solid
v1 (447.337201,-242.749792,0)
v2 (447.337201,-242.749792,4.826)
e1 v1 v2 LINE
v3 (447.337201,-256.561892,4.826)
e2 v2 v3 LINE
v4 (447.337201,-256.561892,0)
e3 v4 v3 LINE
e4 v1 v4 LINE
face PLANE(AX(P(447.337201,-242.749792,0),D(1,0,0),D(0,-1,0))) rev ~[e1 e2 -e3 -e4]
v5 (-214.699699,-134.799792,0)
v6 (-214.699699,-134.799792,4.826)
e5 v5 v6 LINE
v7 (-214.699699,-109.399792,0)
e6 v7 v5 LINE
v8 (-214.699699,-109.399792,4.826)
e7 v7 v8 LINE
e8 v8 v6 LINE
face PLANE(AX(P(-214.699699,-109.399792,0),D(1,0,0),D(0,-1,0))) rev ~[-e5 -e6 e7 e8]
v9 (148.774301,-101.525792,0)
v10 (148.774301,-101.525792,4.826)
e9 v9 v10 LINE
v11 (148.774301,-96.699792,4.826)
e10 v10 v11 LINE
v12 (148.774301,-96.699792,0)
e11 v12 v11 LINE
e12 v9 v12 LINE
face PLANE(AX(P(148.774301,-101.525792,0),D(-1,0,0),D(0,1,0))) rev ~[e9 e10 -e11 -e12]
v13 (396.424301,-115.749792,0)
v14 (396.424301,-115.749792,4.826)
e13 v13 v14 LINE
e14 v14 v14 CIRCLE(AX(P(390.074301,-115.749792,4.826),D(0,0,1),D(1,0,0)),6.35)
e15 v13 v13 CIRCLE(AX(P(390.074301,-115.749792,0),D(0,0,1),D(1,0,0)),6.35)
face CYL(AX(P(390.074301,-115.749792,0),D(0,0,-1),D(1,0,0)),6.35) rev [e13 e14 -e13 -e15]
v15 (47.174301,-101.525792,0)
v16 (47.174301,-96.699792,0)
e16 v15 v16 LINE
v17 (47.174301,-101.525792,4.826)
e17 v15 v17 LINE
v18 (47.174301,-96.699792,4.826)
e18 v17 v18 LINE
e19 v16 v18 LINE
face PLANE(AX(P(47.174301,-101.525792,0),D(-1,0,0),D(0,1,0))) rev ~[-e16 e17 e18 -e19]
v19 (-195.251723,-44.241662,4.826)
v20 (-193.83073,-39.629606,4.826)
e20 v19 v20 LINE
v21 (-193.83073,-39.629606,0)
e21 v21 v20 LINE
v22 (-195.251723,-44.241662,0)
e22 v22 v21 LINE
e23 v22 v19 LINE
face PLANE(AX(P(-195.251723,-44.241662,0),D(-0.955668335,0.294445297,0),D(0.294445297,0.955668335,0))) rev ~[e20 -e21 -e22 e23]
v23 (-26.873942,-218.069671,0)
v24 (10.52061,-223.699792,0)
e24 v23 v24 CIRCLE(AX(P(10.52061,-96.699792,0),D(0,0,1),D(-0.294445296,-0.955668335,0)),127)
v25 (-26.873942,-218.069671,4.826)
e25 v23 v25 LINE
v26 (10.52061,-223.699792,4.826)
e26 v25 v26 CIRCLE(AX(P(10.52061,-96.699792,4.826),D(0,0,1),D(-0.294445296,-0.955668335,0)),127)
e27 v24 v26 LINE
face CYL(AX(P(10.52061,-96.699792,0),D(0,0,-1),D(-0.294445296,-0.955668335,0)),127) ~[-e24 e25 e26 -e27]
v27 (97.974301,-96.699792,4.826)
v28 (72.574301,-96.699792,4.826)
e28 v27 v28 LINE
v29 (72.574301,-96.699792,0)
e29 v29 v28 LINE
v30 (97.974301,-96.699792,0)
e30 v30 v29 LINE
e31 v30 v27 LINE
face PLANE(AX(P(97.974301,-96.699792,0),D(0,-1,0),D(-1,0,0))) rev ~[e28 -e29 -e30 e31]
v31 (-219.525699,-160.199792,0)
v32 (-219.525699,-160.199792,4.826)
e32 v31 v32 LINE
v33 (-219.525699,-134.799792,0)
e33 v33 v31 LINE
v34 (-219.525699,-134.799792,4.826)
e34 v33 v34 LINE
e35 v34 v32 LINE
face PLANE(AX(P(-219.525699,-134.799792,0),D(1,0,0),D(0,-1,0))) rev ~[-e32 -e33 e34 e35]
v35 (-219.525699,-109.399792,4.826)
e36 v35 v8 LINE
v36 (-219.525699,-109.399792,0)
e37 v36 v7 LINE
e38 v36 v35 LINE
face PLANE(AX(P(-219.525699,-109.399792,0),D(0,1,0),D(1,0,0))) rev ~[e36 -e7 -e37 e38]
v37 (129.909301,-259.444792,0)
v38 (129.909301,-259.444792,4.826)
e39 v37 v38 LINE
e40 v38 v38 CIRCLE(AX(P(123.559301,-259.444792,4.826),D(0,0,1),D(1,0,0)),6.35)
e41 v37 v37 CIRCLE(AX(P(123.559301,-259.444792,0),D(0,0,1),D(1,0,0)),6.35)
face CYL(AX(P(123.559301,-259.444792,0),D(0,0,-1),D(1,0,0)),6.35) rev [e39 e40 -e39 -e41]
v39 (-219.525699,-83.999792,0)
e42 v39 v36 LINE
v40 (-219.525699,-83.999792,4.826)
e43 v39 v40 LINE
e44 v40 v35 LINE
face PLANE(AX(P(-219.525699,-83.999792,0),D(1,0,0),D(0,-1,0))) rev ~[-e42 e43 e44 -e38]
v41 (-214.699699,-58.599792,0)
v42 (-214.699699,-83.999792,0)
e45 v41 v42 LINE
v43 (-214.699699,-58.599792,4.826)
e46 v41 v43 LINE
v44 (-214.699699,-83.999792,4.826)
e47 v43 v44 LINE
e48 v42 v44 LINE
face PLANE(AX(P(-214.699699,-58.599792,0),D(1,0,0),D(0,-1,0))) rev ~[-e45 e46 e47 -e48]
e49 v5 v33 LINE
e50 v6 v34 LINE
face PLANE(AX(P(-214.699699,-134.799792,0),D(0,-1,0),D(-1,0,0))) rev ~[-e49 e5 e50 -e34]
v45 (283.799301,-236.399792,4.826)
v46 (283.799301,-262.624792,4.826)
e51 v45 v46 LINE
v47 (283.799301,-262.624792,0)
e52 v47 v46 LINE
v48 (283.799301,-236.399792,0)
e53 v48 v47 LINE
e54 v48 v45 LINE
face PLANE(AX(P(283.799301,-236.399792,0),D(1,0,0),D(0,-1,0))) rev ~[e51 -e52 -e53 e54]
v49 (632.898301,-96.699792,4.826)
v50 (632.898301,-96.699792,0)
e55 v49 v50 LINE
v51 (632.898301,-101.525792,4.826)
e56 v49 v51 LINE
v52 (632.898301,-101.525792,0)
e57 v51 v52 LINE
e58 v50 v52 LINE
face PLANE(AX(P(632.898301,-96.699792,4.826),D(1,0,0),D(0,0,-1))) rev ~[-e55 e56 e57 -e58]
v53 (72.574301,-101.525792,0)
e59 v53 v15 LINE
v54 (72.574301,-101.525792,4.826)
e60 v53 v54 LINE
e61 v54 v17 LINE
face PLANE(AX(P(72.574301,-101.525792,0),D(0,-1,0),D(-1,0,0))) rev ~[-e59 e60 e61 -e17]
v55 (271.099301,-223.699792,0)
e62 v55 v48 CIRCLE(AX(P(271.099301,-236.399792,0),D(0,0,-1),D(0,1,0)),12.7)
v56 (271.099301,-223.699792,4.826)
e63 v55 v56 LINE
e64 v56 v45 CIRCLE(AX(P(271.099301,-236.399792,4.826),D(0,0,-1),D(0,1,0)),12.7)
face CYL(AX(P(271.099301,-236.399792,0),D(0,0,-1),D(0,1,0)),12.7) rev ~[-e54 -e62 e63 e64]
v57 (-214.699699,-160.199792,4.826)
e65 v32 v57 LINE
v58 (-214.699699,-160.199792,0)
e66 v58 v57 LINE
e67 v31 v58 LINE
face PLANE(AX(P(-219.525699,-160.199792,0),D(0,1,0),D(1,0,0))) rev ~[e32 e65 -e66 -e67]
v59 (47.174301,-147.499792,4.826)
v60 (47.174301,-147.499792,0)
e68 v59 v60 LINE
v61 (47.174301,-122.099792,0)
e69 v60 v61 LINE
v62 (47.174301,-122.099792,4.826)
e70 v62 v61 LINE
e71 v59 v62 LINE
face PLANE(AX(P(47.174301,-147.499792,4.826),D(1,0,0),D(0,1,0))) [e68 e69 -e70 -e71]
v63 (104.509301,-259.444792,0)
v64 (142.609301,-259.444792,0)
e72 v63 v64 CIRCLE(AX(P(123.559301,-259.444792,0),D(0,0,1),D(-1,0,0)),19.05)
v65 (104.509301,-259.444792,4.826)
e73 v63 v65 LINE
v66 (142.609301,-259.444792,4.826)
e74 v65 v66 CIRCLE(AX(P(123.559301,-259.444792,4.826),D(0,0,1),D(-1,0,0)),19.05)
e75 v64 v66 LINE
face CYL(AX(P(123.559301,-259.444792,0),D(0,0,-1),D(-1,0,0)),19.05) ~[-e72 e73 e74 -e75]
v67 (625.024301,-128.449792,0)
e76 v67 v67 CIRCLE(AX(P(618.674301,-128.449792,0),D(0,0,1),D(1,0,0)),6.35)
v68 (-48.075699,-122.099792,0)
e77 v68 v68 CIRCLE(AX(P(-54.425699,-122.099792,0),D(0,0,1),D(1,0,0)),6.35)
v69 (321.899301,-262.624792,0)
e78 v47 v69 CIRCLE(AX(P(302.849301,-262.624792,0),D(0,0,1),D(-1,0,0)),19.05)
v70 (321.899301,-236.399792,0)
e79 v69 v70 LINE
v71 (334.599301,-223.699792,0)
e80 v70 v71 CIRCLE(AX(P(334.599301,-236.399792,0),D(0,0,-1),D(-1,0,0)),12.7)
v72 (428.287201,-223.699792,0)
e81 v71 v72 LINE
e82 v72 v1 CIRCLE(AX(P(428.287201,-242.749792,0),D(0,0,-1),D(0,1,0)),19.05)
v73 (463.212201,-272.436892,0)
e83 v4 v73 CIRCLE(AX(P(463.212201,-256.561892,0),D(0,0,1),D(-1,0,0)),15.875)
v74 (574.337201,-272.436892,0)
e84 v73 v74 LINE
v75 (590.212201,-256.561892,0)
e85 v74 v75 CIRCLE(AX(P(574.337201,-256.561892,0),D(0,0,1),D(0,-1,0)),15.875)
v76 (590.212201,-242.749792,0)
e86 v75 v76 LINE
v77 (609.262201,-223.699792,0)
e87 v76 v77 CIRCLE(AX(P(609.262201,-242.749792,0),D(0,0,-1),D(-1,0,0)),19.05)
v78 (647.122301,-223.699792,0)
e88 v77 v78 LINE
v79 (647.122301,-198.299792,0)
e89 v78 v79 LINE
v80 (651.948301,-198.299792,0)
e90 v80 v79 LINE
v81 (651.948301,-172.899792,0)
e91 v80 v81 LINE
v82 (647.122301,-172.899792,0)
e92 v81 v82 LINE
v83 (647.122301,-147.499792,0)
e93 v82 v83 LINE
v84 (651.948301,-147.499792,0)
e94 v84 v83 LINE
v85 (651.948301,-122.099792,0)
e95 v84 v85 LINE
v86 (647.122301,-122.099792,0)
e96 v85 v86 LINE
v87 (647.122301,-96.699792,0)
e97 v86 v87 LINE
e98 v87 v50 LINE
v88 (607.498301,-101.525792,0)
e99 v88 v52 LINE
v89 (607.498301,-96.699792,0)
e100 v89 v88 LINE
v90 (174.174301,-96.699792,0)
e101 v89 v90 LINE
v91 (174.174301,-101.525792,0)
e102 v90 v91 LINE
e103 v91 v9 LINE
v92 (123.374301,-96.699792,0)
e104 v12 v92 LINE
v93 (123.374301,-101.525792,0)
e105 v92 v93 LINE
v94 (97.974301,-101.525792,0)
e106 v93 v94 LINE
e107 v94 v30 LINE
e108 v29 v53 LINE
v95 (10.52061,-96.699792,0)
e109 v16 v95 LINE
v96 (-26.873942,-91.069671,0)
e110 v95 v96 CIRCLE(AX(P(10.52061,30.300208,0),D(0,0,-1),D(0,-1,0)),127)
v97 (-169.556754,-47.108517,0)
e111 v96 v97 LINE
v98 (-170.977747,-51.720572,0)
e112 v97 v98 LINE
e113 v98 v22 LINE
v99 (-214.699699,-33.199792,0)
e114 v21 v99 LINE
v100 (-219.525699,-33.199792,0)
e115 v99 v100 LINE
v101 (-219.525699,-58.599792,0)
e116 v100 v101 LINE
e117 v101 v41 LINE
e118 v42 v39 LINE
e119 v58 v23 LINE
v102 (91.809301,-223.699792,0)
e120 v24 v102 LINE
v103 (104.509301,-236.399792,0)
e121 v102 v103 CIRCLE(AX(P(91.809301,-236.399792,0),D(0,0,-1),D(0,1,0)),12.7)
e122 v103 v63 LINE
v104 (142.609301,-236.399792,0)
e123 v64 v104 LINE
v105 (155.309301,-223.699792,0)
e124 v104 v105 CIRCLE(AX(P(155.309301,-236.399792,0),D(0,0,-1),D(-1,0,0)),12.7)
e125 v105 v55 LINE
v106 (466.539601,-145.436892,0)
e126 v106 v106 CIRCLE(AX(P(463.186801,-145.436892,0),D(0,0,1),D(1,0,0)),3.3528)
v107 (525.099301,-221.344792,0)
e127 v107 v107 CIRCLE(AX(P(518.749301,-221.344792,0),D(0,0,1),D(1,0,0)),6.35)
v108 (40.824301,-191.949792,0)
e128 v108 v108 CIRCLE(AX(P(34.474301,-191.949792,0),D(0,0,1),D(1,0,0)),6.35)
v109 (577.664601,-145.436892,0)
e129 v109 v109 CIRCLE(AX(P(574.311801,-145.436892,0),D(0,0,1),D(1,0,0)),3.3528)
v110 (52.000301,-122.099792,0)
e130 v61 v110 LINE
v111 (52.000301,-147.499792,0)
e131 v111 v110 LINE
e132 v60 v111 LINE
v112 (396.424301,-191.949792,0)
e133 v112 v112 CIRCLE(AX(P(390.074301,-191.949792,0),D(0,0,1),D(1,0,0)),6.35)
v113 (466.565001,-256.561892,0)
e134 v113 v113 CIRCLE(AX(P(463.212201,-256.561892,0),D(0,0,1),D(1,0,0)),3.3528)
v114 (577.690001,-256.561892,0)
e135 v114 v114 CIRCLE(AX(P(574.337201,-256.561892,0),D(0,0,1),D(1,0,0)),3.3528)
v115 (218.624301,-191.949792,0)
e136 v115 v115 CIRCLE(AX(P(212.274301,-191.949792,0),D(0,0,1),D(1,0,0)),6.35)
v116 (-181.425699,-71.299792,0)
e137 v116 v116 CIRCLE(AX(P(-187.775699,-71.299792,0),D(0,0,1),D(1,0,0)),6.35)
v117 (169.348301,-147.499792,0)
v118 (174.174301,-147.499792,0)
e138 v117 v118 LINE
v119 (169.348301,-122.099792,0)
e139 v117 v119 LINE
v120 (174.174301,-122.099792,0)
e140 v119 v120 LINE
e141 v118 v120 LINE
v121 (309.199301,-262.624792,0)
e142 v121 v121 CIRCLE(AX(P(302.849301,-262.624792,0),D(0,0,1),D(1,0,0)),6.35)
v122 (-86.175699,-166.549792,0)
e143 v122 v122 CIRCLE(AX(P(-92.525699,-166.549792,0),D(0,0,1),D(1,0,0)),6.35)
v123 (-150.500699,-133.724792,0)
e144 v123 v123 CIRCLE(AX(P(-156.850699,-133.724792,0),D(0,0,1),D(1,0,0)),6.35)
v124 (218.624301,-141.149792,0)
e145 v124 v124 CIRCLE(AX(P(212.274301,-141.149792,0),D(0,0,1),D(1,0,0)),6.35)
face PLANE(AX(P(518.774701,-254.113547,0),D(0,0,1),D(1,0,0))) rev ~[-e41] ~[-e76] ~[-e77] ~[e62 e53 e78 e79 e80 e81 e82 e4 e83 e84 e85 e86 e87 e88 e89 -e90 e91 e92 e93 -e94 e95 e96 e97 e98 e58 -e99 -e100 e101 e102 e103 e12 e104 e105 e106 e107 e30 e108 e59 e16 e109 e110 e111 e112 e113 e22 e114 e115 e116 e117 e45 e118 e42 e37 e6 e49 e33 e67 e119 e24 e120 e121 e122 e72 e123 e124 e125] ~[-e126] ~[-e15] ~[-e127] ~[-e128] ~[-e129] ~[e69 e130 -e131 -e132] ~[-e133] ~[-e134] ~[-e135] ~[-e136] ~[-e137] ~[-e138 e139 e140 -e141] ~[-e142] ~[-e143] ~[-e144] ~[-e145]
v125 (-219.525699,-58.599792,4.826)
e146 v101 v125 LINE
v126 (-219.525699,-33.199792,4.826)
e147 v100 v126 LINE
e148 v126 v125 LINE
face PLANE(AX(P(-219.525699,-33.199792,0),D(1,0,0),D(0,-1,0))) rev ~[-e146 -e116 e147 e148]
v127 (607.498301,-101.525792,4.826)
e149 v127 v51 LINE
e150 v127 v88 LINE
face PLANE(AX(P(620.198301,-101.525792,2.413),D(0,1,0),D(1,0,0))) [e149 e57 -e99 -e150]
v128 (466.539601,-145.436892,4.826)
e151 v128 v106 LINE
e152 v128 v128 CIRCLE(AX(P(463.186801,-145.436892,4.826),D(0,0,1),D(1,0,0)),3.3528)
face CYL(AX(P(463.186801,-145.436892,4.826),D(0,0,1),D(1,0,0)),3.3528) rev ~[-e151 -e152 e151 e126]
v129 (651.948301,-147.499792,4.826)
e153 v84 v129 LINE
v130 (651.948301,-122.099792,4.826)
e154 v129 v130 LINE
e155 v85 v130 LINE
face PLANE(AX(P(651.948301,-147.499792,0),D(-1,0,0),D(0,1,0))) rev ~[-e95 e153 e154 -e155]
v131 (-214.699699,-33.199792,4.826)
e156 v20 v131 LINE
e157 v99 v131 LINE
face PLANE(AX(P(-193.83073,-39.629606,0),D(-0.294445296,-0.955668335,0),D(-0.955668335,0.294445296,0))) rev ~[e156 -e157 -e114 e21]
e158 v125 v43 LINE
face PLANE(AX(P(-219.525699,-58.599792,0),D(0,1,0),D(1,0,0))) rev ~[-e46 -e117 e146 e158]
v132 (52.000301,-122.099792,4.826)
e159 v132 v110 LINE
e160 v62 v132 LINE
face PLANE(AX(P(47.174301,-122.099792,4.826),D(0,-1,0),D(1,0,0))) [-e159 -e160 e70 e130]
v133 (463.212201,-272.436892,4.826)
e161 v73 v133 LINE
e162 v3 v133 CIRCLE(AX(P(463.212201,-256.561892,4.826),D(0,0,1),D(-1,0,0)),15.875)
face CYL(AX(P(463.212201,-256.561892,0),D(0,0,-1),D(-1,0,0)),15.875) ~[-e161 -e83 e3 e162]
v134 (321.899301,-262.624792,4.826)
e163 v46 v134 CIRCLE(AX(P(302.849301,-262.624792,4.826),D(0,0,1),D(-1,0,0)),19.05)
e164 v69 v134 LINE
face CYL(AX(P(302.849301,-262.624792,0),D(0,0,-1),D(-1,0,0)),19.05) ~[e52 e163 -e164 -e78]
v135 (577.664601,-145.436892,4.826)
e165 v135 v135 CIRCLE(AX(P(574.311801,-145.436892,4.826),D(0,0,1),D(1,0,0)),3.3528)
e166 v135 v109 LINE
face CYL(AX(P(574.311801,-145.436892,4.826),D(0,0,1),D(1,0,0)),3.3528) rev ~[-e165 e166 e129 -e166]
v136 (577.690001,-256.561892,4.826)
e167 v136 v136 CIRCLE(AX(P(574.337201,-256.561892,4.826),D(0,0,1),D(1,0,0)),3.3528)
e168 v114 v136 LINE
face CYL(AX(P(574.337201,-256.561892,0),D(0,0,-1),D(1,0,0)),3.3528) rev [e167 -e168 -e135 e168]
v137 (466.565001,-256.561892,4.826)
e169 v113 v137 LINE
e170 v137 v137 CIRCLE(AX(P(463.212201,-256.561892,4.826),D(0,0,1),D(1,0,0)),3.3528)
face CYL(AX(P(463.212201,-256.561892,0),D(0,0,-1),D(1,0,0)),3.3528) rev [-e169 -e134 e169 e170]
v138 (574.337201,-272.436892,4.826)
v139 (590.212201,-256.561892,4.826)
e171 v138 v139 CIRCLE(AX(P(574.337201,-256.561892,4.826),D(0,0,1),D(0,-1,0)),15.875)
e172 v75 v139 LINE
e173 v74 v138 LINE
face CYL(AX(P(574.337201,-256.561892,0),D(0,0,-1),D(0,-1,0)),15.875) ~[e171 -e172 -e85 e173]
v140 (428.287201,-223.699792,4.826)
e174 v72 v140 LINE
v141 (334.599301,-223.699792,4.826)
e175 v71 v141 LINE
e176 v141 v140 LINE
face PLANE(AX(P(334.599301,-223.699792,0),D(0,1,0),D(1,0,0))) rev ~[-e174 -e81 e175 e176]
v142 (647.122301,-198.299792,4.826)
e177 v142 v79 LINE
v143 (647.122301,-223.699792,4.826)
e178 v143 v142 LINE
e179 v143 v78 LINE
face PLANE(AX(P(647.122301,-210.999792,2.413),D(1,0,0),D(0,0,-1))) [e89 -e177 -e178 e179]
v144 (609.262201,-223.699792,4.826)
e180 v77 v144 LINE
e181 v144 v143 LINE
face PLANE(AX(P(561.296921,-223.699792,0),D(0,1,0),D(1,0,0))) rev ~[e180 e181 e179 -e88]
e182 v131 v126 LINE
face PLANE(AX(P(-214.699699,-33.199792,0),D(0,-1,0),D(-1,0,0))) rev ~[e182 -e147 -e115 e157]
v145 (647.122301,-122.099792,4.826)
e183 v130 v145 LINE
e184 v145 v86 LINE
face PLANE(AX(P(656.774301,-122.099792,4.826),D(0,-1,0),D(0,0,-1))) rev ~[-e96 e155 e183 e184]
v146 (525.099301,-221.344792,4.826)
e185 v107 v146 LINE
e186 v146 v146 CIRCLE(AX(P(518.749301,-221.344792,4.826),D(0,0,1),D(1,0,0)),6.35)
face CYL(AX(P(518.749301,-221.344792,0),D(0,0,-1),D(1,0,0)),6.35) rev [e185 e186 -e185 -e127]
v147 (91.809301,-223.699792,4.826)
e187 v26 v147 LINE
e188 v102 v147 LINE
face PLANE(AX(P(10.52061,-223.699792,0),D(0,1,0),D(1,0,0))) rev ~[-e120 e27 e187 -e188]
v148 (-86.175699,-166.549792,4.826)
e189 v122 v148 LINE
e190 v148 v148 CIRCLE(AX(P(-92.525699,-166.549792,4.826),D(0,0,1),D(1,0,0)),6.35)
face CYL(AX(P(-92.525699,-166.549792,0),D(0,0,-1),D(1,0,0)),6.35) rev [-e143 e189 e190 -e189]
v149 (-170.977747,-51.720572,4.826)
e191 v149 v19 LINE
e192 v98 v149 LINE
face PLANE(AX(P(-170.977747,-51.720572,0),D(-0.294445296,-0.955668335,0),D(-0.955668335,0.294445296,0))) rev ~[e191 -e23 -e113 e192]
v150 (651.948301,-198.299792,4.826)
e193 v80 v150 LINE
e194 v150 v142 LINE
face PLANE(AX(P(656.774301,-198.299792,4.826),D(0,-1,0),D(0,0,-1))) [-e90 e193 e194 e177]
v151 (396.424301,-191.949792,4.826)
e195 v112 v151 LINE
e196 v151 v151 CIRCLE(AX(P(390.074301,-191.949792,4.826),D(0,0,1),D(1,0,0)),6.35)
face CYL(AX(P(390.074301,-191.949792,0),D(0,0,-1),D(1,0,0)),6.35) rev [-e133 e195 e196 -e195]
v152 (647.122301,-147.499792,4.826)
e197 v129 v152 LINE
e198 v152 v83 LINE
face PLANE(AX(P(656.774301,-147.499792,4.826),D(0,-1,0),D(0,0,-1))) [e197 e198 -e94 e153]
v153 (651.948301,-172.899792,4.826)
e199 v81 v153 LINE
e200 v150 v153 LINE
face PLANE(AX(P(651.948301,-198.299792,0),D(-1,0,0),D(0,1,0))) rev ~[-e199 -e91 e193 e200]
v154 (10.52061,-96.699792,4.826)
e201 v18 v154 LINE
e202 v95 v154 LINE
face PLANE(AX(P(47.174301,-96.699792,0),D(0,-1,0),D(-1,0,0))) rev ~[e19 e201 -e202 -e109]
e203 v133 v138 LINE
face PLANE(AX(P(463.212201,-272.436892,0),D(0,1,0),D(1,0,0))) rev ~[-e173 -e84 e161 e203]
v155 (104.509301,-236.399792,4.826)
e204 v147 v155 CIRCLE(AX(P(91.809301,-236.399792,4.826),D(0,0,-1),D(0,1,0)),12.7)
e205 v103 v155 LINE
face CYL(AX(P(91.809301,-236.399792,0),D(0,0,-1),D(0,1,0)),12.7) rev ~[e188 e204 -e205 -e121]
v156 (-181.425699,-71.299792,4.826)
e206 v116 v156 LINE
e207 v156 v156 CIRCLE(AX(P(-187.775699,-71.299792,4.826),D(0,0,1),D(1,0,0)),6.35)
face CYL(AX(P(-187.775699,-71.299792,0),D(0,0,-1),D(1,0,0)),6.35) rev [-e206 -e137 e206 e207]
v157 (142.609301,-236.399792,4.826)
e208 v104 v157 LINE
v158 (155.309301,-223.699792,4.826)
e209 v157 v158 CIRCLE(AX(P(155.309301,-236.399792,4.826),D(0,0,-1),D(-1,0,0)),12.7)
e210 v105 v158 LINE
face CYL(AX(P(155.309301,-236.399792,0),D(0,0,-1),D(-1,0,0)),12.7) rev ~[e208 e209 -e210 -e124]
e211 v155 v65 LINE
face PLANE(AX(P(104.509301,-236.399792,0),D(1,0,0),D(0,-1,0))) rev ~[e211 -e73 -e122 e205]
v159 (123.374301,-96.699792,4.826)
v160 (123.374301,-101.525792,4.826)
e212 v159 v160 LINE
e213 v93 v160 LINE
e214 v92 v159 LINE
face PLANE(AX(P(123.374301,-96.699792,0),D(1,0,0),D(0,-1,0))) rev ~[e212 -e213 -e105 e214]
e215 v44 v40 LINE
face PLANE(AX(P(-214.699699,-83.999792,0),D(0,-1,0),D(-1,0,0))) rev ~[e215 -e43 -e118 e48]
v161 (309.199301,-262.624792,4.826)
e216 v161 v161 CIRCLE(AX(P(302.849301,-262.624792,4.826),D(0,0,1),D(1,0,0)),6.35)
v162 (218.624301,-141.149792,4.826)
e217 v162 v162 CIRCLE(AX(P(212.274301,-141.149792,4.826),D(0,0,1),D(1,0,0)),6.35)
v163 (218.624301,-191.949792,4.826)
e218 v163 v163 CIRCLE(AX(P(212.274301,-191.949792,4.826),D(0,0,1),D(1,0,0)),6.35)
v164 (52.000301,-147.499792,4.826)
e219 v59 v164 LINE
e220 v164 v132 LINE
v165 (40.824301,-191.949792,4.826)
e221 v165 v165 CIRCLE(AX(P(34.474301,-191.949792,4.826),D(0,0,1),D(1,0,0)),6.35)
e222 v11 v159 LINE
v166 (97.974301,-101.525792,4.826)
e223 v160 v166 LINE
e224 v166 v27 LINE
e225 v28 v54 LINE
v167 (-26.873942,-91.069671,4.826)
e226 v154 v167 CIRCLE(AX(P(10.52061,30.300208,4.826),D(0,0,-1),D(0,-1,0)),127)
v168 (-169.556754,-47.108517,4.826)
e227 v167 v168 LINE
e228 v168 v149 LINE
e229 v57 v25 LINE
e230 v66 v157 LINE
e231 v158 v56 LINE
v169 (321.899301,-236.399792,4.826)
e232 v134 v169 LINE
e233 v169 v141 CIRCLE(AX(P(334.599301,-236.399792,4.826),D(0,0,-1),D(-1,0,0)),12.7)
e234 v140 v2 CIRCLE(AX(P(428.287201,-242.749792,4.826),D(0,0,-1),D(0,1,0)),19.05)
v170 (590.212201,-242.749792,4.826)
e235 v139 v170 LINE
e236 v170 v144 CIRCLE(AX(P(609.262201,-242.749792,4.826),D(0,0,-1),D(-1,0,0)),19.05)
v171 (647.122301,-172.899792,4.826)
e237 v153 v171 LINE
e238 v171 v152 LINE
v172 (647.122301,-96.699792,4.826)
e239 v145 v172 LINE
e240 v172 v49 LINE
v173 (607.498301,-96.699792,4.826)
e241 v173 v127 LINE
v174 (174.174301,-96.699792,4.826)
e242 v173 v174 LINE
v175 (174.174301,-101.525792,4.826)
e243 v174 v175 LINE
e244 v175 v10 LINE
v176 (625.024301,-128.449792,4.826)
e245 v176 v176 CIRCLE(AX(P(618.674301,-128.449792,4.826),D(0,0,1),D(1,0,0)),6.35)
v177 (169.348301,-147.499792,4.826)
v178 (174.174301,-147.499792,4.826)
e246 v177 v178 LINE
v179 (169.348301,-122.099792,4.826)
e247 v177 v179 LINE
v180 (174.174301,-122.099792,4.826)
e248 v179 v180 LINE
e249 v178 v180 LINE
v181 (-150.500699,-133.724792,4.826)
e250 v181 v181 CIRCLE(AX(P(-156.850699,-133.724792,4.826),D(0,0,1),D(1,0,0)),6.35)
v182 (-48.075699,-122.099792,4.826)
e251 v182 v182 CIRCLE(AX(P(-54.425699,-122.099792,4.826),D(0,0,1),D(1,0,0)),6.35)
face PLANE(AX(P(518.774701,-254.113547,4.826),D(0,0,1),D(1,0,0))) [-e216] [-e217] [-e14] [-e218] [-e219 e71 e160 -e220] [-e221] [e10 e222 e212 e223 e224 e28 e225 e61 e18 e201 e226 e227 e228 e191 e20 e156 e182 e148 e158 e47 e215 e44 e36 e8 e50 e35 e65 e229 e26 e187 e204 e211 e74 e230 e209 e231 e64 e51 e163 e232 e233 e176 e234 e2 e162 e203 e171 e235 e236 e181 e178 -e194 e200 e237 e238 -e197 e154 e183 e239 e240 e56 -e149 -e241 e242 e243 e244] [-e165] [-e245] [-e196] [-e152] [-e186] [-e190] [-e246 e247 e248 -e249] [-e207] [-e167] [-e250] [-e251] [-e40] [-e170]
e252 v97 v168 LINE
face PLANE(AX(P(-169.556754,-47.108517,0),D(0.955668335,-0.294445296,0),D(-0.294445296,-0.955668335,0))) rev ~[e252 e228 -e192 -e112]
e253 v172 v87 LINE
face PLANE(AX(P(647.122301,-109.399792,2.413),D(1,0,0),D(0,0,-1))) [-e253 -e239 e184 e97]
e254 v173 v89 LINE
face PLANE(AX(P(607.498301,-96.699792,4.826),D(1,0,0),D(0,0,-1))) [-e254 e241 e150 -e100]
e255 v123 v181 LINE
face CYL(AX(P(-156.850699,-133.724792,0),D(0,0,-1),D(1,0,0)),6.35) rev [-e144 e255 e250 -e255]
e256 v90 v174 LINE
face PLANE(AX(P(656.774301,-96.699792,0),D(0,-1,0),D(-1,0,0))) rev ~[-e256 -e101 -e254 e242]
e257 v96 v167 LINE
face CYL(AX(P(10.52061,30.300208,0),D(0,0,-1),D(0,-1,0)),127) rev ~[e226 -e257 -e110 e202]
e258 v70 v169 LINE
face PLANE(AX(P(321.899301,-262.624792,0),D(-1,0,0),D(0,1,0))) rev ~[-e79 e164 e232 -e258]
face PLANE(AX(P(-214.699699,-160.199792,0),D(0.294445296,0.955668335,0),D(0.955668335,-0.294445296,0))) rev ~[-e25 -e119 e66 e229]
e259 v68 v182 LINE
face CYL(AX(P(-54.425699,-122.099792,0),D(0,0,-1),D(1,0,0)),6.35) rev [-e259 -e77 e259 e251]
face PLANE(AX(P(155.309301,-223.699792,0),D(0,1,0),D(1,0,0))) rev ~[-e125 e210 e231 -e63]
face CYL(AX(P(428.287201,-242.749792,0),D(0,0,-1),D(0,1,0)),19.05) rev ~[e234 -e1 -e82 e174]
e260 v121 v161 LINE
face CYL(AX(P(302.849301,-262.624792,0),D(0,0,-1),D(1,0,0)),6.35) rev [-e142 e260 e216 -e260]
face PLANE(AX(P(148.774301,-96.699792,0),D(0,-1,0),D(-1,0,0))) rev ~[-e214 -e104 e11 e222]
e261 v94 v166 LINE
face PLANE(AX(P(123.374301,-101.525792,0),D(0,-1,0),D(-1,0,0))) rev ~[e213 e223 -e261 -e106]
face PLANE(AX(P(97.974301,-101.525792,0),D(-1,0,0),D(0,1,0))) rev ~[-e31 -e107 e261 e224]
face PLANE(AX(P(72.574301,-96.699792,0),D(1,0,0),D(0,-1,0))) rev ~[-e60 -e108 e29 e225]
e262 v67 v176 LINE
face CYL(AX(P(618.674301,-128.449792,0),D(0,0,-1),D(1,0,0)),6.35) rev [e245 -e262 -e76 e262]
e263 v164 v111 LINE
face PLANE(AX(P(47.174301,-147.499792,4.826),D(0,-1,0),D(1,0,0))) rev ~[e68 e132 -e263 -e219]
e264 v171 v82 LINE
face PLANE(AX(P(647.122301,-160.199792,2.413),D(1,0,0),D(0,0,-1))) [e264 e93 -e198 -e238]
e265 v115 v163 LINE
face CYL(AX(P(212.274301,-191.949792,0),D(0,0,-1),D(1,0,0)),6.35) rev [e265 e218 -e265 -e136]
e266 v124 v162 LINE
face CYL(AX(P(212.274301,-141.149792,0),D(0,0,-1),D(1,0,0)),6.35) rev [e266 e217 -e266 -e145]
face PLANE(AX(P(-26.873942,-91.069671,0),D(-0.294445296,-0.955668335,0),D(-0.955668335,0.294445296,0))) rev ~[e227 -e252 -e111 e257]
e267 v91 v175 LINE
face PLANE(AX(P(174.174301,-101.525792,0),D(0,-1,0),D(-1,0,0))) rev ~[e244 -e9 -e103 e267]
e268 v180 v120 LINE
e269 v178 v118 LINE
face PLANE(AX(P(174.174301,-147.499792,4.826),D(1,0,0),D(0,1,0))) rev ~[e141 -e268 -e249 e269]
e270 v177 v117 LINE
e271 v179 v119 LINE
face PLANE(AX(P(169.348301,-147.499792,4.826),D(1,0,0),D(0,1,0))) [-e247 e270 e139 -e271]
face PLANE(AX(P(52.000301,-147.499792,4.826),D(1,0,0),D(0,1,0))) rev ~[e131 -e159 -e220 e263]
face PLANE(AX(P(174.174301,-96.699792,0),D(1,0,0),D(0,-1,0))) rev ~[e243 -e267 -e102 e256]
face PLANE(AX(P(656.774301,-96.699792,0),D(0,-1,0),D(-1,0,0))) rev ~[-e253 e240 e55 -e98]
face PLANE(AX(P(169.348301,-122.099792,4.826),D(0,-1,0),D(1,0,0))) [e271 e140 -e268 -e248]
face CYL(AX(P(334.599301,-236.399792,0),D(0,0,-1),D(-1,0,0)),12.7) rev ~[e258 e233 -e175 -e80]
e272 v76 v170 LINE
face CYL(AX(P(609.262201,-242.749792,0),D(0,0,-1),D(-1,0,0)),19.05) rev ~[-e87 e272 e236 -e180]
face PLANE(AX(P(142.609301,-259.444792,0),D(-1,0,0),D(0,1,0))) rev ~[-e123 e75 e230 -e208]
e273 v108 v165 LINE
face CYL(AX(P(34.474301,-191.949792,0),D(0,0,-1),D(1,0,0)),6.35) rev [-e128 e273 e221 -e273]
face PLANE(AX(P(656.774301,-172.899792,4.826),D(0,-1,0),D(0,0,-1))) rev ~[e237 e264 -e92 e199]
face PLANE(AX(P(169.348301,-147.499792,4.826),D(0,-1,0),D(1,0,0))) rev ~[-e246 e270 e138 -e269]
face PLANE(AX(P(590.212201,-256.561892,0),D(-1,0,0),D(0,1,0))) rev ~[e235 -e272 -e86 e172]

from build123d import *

# Parameters (mm, degrees)
SKETCH2_R                           = 6.35
BASE_DEPTH                          = 4.826
SKETCH3_W                           = 4.826
SKETCH3_H                           = 25.4
CENTER_SUPPORT_VERTICAL_HOLES_DEPTH = 5.826
SKETCH4_W                           = 4.826
SKETCH4_H                           = 25.4
CUT_EXTRUDE2_DEPTH                  = 9.652
SKETCH5_R                           = 3.3528
BOSS_EXTRUDE1_DEPTH                 = 4.826
SKETCH6_R                           = 3.3528
CUT_EXTRUDE3_DEPTH                  = 5.826
SKETCH7_W                           = 25.4
SKETCH7_H                           = 4.826
CUT_EXTRUDE4_DEPTH                  = 4.826


with BuildPart() as part:
    # Sketch2 → base (new body)
    with BuildSketch(Plane.XY):
        with BuildLine():
            Line((-214.699698696, -160.199792202), (-26.873942154, -218.069670807))
            ThreePointArc((-26.873942154, -218.069670807), (-8.387395977, -222.284374422), (10.520610491, -223.699792202))
            Line((10.520610491, -223.699792202), (91.809301303, -223.699792202))
            ThreePointArc((91.809301303, -223.699792202), (100.789557424, -227.419536081), (104.509301303, -236.399792202))
            Line((104.509301303, -236.399792202), (104.509301303, -259.444792203))
            ThreePointArc((104.509301303, -259.444792203), (123.559301303, -278.494792203), (142.609301303, -259.444792203))
            Line((142.609301303, -259.444792203), (142.609301303, -236.399792202))
            ThreePointArc((142.609301303, -236.399792202), (146.329045182, -227.419536081), (155.309301303, -223.699792202))
            Line((155.309301303, -223.699792202), (271.099301303, -223.699792202))
            ThreePointArc((271.099301303, -223.699792202), (280.079557424, -227.419536081), (283.799301303, -236.399792202))
            Line((283.799301303, -236.399792202), (283.799301303, -262.624792203))
            ThreePointArc((283.799301303, -262.624792203), (302.849301303, -281.674792203), (321.899301303, -262.624792203))
            Line((321.899301303, -262.624792203), (321.899301303, -236.399792202))
            ThreePointArc((321.899301303, -236.399792202), (325.619045182, -227.419536081), (334.599301303, -223.699792202))
            Line((334.599301303, -223.699792202), (476.201681216, -223.699792202))
            ThreePointArc((476.201681216, -223.699792202), (482.250146931, -225.232605336), (486.838586238, -229.461042202))
            ThreePointArc((486.838586238, -229.461042202), (518.749301303, -246.744792203), (550.660016368, -229.461042202))
            ThreePointArc((550.660016368, -229.461042202), (555.248455675, -225.232605336), (561.29692139, -223.699792202))
            Line((561.29692139, -223.699792202), (656.774301304, -223.699792202))
            Line((656.774301304, -223.699792202), (656.774301304, -198.299792202))
            Line((656.774301304, -198.299792202), (651.948301304, -198.299792202))
            Line((651.948301304, -198.299792202), (651.948301304, -172.899792202))
            Line((651.948301304, -172.899792202), (656.774301304, -172.899792202))
            Line((656.774301304, -172.899792202), (656.774301304, -147.499792202))
            Line((656.774301304, -147.499792202), (651.948301304, -147.499792202))
            Line((651.948301304, -147.499792202), (651.948301304, -122.099792202))
            Line((651.948301304, -122.099792202), (656.774301304, -122.099792202))
            Line((656.774301304, -122.099792202), (656.774301304, -96.699792202))
            Line((656.774301304, -96.699792202), (174.174301304, -96.699792202))
            Line((174.174301304, -96.699792202), (174.174301304, -101.525792202))
            Line((174.174301304, -101.525792202), (148.774301304, -101.525792202))
            Line((148.774301304, -101.525792202), (148.774301304, -96.699792202))
            Line((148.774301304, -96.699792202), (123.374301304, -96.699792202))
            Line((123.374301304, -96.699792202), (123.374301304, -101.525792202))
            Line((123.374301304, -101.525792202), (97.974301304, -101.525792202))
            Line((97.974301304, -101.525792202), (97.974301304, -96.699792202))
            Line((97.974301304, -96.699792202), (72.574301304, -96.699792202))
            Line((72.574301304, -96.699792202), (72.574301304, -101.525792202))
            Line((72.574301304, -101.525792202), (47.174301304, -101.525792202))
            Line((47.174301304, -101.525792202), (47.174301304, -96.699792202))
            Line((47.174301304, -96.699792202), (10.520610491, -96.699792202))
            ThreePointArc((10.520610491, -96.699792202), (-8.387395977, -95.284374422), (-26.873942154, -91.069670807))
            Line((-26.873942154, -91.069670807), (-169.556754254, -47.108516771))
            Line((-169.556754254, -47.108516771), (-170.977747254, -51.720572158))
            Line((-170.977747254, -51.720572158), (-195.251722975, -44.241661629))
            Line((-195.251722975, -44.241661629), (-193.830729974, -39.629606242))
            Line((-193.830729974, -39.629606242), (-214.699698696, -33.199792202))
            Line((-214.699698696, -33.199792202), (-219.525698696, -33.199792202))
            Line((-219.525698696, -33.199792202), (-219.525698696, -58.599792202))
            Line((-219.525698696, -58.599792202), (-214.699698696, -58.599792202))
            Line((-214.699698696, -58.599792202), (-214.699698696, -83.999792202))
            Line((-214.699698696, -83.999792202), (-219.525698696, -83.999792202))
            Line((-219.525698696, -83.999792202), (-219.525698696, -109.399792202))
            Line((-219.525698696, -109.399792202), (-214.699698696, -109.399792202))
            Line((-214.699698696, -109.399792202), (-214.699698696, -134.799792202))
            Line((-214.699698696, -134.799792202), (-219.525698696, -134.799792202))
            Line((-219.525698696, -134.799792202), (-219.525698696, -160.199792202))
            Line((-219.525698696, -160.199792202), (-214.699698696, -160.199792202))
        make_face()
        with Locations((390.074301304, -191.949792202)):
            Circle(SKETCH2_R, mode=Mode.SUBTRACT)
        with Locations((390.074301304, -115.749792202)):
            Circle(SKETCH2_R, mode=Mode.SUBTRACT)
        with Locations((518.749301303, -221.344792203)):
            Circle(SKETCH2_R, mode=Mode.SUBTRACT)
        with Locations((618.674301304, -128.449792202)):
            Circle(SKETCH2_R, mode=Mode.SUBTRACT)
        with Locations((302.849301303, -262.624792203)):
            Circle(SKETCH2_R, mode=Mode.SUBTRACT)
        with Locations((212.274301304, -191.949792202)):
            Circle(SKETCH2_R, mode=Mode.SUBTRACT)
        with Locations((212.274301304, -141.149792202)):
            Circle(SKETCH2_R, mode=Mode.SUBTRACT)
        with Locations((123.559301303, -259.444792203)):
            Circle(SKETCH2_R, mode=Mode.SUBTRACT)
        with Locations((34.474301304, -191.949792202)):
            Circle(SKETCH2_R, mode=Mode.SUBTRACT)
        with Locations((-92.525698696, -166.549792202)):
            Circle(SKETCH2_R, mode=Mode.SUBTRACT)
        with Locations((-156.850698697, -133.724792203)):
            Circle(SKETCH2_R, mode=Mode.SUBTRACT)
        with Locations((-54.425698696, -122.099792202)):
            Circle(SKETCH2_R, mode=Mode.SUBTRACT)
        with Locations((-187.775698696, -71.299792202)):
            Circle(SKETCH2_R, mode=Mode.SUBTRACT)
    extrude(amount=BASE_DEPTH)

    # Sketch3 → center support vertical holes (cut, through all)
    with BuildSketch(Plane.XY.offset(4.826)):
        with Locations((171.761301304, -134.799792202)):
            Rectangle(SKETCH3_W, SKETCH3_H)
        with Locations((49.587301304, -134.799792202)):
            Rectangle(SKETCH3_W, SKETCH3_H)
    extrude(amount=-CENTER_SUPPORT_VERTICAL_HOLES_DEPTH, mode=Mode.SUBTRACT)

    # Sketch4 → Cut-Extrude2 (cut)
    with BuildSketch(Plane(origin=(656.774301304, 0, 0), x_dir=(0, 0, -1), z_dir=(1, 0, 0))):
        with Locations((-2.413, -109.399792202)):
            Rectangle(SKETCH4_W, SKETCH4_H)
        with Locations((-2.413, -160.199792202)):
            Rectangle(SKETCH4_W, SKETCH4_H)
        with Locations((-2.413, -210.999792202)):
            Rectangle(SKETCH4_W, SKETCH4_H)
    extrude(amount=-CUT_EXTRUDE2_DEPTH, mode=Mode.SUBTRACT)

    # Sketch5 → Boss-Extrude1 (add, through all)
    with BuildSketch(Plane.XY):
        with BuildLine():
            ThreePointArc((447.337201303, -256.561892203), (451.986881152, -267.787212355), (463.212201303, -272.436892203))
            Line((463.212201303, -272.436892203), (574.337201303, -272.436892203))
            ThreePointArc((574.337201303, -272.436892203), (585.562521454, -267.787212355), (590.212201303, -256.561892203))
            Line((590.212201303, -256.561892203), (590.212201303, -242.749792202))
            ThreePointArc((590.212201303, -242.749792202), (595.791817122, -229.279408021), (609.262201303, -223.699792202))
            Line((609.262201303, -223.699792202), (582.274701303, -223.699792202))
            Line((582.274701303, -223.699792202), (582.274701303, -263.705642203))
            ThreePointArc((582.274701303, -263.705642203), (582.042217311, -264.266908211), (581.480951303, -264.499392203))
            Line((581.480951303, -264.499392203), (456.068451303, -264.499392203))
            ThreePointArc((456.068451303, -264.499392203), (455.507185296, -264.266908211), (455.274701303, -263.705642203))
            Line((455.274701303, -263.705642203), (455.274701303, -223.699792202))
            Line((455.274701303, -223.699792202), (428.287201303, -223.699792202))
            ThreePointArc((428.287201303, -223.699792202), (441.757585485, -229.279408021), (447.337201303, -242.749792202))
            Line((447.337201303, -242.749792202), (447.337201303, -256.561892203))
        make_face()
        with BuildLine():
            Line((476.201681216, -223.699792202), (455.274701303, -223.699792202))
            Line((455.274701303, -223.699792202), (455.274701303, -263.705642203))
            ThreePointArc((455.274701303, -263.705642203), (455.507185296, -264.266908211), (456.068451303, -264.499392203))
            Line((456.068451303, -264.499392203), (581.480951303, -264.499392203))
            ThreePointArc((581.480951303, -264.499392203), (582.042217311, -264.266908211), (582.274701303, -263.705642203))
            Line((582.274701303, -263.705642203), (582.274701303, -223.699792202))
            Line((582.274701303, -223.699792202), (561.29692139, -223.699792202))
            ThreePointArc((561.29692139, -223.699792202), (561.2383345, -223.699927338), (561.179748857, -223.700332741))
            ThreePointArc((561.179748857, -223.700332741), (558.402047851, -225.427930059), (555.13360811, -225.295578164))
            ThreePointArc((555.13360811, -225.295578164), (552.64246552, -227.105148928), (550.660016368, -229.461042202))
            ThreePointArc((550.660016368, -229.461042202), (518.749301303, -246.744792203), (486.838586238, -229.461042202))
            ThreePointArc((486.838586238, -229.461042202), (484.864337354, -227.112791145), (482.384586489, -225.306475188))
            ThreePointArc((482.384586489, -225.306475188), (479.131749478, -225.423788448), (476.370155751, -223.700909719))
            ThreePointArc((476.370155751, -223.700909719), (476.285920337, -223.700071584), (476.201681216, -223.699792202))
        make_face()
        with Locations((463.212201303, -256.561892203)):
            Circle(SKETCH5_R, mode=Mode.SUBTRACT)
        with Locations((574.337201303, -256.561892203)):
            Circle(SKETCH5_R, mode=Mode.SUBTRACT)
        with BuildLine():
            ThreePointArc((486.129056336, -220.049392203), (478.617074751, -214.839552456), (476.370155751, -223.700909719))
            ThreePointArc((476.370155751, -223.700909719), (479.47726765, -224.129481142), (482.384586489, -225.306475188))
            ThreePointArc((482.384586489, -225.306475188), (485.097242667, -223.276541717), (486.129056336, -220.049392203))
        make_face()
        with BuildLine():
            ThreePointArc((482.384586489, -225.306475188), (479.47726765, -224.129481142), (476.370155751, -223.700909719))
            ThreePointArc((476.370155751, -223.700909719), (479.131749478, -225.423788448), (482.384586489, -225.306475188))
        make_face()
        with BuildLine():
            ThreePointArc((555.13360811, -225.295578164), (558.402047851, -225.427930059), (561.179748857, -223.700332741))
            ThreePointArc((561.179748857, -223.700332741), (558.056963443, -224.120025409), (555.13360811, -225.295578164))
        make_face()
        with BuildLine():
            ThreePointArc((555.13360811, -225.295578164), (558.056963443, -224.120025409), (561.179748857, -223.700332741))
            ThreePointArc((561.179748857, -223.700332741), (562.192920014, -221.998415637), (562.54554627, -220.049392203))
            ThreePointArc((562.54554627, -220.049392203), (553.769273114, -215.509037195), (555.13360811, -225.295578164))
        make_face()
    extrude(amount=BOSS_EXTRUDE1_DEPTH)

    # Sketch6 → Cut-Extrude3 (cut, through all)
    with BuildSketch(Plane.XY.offset(4.826)):
        with Locations((463.186801303, -145.436892203)):
            Circle(SKETCH6_R)
        with Locations((574.311801303, -145.436892203)):
            Circle(SKETCH6_R)
    extrude(amount=-CUT_EXTRUDE3_DEPTH, mode=Mode.SUBTRACT)

    # Sketch7 → Cut-Extrude4 (cut)
    with BuildSketch(Plane(origin=(0, -96.699792202, 0), x_dir=(1, 0, 0), z_dir=(0, 1, 0))):
        with Locations((620.198301304, -2.413)):
            Rectangle(SKETCH7_W, SKETCH7_H)
    extrude(amount=-CUT_EXTRUDE4_DEPTH, mode=Mode.SUBTRACT)


solid = part.part
